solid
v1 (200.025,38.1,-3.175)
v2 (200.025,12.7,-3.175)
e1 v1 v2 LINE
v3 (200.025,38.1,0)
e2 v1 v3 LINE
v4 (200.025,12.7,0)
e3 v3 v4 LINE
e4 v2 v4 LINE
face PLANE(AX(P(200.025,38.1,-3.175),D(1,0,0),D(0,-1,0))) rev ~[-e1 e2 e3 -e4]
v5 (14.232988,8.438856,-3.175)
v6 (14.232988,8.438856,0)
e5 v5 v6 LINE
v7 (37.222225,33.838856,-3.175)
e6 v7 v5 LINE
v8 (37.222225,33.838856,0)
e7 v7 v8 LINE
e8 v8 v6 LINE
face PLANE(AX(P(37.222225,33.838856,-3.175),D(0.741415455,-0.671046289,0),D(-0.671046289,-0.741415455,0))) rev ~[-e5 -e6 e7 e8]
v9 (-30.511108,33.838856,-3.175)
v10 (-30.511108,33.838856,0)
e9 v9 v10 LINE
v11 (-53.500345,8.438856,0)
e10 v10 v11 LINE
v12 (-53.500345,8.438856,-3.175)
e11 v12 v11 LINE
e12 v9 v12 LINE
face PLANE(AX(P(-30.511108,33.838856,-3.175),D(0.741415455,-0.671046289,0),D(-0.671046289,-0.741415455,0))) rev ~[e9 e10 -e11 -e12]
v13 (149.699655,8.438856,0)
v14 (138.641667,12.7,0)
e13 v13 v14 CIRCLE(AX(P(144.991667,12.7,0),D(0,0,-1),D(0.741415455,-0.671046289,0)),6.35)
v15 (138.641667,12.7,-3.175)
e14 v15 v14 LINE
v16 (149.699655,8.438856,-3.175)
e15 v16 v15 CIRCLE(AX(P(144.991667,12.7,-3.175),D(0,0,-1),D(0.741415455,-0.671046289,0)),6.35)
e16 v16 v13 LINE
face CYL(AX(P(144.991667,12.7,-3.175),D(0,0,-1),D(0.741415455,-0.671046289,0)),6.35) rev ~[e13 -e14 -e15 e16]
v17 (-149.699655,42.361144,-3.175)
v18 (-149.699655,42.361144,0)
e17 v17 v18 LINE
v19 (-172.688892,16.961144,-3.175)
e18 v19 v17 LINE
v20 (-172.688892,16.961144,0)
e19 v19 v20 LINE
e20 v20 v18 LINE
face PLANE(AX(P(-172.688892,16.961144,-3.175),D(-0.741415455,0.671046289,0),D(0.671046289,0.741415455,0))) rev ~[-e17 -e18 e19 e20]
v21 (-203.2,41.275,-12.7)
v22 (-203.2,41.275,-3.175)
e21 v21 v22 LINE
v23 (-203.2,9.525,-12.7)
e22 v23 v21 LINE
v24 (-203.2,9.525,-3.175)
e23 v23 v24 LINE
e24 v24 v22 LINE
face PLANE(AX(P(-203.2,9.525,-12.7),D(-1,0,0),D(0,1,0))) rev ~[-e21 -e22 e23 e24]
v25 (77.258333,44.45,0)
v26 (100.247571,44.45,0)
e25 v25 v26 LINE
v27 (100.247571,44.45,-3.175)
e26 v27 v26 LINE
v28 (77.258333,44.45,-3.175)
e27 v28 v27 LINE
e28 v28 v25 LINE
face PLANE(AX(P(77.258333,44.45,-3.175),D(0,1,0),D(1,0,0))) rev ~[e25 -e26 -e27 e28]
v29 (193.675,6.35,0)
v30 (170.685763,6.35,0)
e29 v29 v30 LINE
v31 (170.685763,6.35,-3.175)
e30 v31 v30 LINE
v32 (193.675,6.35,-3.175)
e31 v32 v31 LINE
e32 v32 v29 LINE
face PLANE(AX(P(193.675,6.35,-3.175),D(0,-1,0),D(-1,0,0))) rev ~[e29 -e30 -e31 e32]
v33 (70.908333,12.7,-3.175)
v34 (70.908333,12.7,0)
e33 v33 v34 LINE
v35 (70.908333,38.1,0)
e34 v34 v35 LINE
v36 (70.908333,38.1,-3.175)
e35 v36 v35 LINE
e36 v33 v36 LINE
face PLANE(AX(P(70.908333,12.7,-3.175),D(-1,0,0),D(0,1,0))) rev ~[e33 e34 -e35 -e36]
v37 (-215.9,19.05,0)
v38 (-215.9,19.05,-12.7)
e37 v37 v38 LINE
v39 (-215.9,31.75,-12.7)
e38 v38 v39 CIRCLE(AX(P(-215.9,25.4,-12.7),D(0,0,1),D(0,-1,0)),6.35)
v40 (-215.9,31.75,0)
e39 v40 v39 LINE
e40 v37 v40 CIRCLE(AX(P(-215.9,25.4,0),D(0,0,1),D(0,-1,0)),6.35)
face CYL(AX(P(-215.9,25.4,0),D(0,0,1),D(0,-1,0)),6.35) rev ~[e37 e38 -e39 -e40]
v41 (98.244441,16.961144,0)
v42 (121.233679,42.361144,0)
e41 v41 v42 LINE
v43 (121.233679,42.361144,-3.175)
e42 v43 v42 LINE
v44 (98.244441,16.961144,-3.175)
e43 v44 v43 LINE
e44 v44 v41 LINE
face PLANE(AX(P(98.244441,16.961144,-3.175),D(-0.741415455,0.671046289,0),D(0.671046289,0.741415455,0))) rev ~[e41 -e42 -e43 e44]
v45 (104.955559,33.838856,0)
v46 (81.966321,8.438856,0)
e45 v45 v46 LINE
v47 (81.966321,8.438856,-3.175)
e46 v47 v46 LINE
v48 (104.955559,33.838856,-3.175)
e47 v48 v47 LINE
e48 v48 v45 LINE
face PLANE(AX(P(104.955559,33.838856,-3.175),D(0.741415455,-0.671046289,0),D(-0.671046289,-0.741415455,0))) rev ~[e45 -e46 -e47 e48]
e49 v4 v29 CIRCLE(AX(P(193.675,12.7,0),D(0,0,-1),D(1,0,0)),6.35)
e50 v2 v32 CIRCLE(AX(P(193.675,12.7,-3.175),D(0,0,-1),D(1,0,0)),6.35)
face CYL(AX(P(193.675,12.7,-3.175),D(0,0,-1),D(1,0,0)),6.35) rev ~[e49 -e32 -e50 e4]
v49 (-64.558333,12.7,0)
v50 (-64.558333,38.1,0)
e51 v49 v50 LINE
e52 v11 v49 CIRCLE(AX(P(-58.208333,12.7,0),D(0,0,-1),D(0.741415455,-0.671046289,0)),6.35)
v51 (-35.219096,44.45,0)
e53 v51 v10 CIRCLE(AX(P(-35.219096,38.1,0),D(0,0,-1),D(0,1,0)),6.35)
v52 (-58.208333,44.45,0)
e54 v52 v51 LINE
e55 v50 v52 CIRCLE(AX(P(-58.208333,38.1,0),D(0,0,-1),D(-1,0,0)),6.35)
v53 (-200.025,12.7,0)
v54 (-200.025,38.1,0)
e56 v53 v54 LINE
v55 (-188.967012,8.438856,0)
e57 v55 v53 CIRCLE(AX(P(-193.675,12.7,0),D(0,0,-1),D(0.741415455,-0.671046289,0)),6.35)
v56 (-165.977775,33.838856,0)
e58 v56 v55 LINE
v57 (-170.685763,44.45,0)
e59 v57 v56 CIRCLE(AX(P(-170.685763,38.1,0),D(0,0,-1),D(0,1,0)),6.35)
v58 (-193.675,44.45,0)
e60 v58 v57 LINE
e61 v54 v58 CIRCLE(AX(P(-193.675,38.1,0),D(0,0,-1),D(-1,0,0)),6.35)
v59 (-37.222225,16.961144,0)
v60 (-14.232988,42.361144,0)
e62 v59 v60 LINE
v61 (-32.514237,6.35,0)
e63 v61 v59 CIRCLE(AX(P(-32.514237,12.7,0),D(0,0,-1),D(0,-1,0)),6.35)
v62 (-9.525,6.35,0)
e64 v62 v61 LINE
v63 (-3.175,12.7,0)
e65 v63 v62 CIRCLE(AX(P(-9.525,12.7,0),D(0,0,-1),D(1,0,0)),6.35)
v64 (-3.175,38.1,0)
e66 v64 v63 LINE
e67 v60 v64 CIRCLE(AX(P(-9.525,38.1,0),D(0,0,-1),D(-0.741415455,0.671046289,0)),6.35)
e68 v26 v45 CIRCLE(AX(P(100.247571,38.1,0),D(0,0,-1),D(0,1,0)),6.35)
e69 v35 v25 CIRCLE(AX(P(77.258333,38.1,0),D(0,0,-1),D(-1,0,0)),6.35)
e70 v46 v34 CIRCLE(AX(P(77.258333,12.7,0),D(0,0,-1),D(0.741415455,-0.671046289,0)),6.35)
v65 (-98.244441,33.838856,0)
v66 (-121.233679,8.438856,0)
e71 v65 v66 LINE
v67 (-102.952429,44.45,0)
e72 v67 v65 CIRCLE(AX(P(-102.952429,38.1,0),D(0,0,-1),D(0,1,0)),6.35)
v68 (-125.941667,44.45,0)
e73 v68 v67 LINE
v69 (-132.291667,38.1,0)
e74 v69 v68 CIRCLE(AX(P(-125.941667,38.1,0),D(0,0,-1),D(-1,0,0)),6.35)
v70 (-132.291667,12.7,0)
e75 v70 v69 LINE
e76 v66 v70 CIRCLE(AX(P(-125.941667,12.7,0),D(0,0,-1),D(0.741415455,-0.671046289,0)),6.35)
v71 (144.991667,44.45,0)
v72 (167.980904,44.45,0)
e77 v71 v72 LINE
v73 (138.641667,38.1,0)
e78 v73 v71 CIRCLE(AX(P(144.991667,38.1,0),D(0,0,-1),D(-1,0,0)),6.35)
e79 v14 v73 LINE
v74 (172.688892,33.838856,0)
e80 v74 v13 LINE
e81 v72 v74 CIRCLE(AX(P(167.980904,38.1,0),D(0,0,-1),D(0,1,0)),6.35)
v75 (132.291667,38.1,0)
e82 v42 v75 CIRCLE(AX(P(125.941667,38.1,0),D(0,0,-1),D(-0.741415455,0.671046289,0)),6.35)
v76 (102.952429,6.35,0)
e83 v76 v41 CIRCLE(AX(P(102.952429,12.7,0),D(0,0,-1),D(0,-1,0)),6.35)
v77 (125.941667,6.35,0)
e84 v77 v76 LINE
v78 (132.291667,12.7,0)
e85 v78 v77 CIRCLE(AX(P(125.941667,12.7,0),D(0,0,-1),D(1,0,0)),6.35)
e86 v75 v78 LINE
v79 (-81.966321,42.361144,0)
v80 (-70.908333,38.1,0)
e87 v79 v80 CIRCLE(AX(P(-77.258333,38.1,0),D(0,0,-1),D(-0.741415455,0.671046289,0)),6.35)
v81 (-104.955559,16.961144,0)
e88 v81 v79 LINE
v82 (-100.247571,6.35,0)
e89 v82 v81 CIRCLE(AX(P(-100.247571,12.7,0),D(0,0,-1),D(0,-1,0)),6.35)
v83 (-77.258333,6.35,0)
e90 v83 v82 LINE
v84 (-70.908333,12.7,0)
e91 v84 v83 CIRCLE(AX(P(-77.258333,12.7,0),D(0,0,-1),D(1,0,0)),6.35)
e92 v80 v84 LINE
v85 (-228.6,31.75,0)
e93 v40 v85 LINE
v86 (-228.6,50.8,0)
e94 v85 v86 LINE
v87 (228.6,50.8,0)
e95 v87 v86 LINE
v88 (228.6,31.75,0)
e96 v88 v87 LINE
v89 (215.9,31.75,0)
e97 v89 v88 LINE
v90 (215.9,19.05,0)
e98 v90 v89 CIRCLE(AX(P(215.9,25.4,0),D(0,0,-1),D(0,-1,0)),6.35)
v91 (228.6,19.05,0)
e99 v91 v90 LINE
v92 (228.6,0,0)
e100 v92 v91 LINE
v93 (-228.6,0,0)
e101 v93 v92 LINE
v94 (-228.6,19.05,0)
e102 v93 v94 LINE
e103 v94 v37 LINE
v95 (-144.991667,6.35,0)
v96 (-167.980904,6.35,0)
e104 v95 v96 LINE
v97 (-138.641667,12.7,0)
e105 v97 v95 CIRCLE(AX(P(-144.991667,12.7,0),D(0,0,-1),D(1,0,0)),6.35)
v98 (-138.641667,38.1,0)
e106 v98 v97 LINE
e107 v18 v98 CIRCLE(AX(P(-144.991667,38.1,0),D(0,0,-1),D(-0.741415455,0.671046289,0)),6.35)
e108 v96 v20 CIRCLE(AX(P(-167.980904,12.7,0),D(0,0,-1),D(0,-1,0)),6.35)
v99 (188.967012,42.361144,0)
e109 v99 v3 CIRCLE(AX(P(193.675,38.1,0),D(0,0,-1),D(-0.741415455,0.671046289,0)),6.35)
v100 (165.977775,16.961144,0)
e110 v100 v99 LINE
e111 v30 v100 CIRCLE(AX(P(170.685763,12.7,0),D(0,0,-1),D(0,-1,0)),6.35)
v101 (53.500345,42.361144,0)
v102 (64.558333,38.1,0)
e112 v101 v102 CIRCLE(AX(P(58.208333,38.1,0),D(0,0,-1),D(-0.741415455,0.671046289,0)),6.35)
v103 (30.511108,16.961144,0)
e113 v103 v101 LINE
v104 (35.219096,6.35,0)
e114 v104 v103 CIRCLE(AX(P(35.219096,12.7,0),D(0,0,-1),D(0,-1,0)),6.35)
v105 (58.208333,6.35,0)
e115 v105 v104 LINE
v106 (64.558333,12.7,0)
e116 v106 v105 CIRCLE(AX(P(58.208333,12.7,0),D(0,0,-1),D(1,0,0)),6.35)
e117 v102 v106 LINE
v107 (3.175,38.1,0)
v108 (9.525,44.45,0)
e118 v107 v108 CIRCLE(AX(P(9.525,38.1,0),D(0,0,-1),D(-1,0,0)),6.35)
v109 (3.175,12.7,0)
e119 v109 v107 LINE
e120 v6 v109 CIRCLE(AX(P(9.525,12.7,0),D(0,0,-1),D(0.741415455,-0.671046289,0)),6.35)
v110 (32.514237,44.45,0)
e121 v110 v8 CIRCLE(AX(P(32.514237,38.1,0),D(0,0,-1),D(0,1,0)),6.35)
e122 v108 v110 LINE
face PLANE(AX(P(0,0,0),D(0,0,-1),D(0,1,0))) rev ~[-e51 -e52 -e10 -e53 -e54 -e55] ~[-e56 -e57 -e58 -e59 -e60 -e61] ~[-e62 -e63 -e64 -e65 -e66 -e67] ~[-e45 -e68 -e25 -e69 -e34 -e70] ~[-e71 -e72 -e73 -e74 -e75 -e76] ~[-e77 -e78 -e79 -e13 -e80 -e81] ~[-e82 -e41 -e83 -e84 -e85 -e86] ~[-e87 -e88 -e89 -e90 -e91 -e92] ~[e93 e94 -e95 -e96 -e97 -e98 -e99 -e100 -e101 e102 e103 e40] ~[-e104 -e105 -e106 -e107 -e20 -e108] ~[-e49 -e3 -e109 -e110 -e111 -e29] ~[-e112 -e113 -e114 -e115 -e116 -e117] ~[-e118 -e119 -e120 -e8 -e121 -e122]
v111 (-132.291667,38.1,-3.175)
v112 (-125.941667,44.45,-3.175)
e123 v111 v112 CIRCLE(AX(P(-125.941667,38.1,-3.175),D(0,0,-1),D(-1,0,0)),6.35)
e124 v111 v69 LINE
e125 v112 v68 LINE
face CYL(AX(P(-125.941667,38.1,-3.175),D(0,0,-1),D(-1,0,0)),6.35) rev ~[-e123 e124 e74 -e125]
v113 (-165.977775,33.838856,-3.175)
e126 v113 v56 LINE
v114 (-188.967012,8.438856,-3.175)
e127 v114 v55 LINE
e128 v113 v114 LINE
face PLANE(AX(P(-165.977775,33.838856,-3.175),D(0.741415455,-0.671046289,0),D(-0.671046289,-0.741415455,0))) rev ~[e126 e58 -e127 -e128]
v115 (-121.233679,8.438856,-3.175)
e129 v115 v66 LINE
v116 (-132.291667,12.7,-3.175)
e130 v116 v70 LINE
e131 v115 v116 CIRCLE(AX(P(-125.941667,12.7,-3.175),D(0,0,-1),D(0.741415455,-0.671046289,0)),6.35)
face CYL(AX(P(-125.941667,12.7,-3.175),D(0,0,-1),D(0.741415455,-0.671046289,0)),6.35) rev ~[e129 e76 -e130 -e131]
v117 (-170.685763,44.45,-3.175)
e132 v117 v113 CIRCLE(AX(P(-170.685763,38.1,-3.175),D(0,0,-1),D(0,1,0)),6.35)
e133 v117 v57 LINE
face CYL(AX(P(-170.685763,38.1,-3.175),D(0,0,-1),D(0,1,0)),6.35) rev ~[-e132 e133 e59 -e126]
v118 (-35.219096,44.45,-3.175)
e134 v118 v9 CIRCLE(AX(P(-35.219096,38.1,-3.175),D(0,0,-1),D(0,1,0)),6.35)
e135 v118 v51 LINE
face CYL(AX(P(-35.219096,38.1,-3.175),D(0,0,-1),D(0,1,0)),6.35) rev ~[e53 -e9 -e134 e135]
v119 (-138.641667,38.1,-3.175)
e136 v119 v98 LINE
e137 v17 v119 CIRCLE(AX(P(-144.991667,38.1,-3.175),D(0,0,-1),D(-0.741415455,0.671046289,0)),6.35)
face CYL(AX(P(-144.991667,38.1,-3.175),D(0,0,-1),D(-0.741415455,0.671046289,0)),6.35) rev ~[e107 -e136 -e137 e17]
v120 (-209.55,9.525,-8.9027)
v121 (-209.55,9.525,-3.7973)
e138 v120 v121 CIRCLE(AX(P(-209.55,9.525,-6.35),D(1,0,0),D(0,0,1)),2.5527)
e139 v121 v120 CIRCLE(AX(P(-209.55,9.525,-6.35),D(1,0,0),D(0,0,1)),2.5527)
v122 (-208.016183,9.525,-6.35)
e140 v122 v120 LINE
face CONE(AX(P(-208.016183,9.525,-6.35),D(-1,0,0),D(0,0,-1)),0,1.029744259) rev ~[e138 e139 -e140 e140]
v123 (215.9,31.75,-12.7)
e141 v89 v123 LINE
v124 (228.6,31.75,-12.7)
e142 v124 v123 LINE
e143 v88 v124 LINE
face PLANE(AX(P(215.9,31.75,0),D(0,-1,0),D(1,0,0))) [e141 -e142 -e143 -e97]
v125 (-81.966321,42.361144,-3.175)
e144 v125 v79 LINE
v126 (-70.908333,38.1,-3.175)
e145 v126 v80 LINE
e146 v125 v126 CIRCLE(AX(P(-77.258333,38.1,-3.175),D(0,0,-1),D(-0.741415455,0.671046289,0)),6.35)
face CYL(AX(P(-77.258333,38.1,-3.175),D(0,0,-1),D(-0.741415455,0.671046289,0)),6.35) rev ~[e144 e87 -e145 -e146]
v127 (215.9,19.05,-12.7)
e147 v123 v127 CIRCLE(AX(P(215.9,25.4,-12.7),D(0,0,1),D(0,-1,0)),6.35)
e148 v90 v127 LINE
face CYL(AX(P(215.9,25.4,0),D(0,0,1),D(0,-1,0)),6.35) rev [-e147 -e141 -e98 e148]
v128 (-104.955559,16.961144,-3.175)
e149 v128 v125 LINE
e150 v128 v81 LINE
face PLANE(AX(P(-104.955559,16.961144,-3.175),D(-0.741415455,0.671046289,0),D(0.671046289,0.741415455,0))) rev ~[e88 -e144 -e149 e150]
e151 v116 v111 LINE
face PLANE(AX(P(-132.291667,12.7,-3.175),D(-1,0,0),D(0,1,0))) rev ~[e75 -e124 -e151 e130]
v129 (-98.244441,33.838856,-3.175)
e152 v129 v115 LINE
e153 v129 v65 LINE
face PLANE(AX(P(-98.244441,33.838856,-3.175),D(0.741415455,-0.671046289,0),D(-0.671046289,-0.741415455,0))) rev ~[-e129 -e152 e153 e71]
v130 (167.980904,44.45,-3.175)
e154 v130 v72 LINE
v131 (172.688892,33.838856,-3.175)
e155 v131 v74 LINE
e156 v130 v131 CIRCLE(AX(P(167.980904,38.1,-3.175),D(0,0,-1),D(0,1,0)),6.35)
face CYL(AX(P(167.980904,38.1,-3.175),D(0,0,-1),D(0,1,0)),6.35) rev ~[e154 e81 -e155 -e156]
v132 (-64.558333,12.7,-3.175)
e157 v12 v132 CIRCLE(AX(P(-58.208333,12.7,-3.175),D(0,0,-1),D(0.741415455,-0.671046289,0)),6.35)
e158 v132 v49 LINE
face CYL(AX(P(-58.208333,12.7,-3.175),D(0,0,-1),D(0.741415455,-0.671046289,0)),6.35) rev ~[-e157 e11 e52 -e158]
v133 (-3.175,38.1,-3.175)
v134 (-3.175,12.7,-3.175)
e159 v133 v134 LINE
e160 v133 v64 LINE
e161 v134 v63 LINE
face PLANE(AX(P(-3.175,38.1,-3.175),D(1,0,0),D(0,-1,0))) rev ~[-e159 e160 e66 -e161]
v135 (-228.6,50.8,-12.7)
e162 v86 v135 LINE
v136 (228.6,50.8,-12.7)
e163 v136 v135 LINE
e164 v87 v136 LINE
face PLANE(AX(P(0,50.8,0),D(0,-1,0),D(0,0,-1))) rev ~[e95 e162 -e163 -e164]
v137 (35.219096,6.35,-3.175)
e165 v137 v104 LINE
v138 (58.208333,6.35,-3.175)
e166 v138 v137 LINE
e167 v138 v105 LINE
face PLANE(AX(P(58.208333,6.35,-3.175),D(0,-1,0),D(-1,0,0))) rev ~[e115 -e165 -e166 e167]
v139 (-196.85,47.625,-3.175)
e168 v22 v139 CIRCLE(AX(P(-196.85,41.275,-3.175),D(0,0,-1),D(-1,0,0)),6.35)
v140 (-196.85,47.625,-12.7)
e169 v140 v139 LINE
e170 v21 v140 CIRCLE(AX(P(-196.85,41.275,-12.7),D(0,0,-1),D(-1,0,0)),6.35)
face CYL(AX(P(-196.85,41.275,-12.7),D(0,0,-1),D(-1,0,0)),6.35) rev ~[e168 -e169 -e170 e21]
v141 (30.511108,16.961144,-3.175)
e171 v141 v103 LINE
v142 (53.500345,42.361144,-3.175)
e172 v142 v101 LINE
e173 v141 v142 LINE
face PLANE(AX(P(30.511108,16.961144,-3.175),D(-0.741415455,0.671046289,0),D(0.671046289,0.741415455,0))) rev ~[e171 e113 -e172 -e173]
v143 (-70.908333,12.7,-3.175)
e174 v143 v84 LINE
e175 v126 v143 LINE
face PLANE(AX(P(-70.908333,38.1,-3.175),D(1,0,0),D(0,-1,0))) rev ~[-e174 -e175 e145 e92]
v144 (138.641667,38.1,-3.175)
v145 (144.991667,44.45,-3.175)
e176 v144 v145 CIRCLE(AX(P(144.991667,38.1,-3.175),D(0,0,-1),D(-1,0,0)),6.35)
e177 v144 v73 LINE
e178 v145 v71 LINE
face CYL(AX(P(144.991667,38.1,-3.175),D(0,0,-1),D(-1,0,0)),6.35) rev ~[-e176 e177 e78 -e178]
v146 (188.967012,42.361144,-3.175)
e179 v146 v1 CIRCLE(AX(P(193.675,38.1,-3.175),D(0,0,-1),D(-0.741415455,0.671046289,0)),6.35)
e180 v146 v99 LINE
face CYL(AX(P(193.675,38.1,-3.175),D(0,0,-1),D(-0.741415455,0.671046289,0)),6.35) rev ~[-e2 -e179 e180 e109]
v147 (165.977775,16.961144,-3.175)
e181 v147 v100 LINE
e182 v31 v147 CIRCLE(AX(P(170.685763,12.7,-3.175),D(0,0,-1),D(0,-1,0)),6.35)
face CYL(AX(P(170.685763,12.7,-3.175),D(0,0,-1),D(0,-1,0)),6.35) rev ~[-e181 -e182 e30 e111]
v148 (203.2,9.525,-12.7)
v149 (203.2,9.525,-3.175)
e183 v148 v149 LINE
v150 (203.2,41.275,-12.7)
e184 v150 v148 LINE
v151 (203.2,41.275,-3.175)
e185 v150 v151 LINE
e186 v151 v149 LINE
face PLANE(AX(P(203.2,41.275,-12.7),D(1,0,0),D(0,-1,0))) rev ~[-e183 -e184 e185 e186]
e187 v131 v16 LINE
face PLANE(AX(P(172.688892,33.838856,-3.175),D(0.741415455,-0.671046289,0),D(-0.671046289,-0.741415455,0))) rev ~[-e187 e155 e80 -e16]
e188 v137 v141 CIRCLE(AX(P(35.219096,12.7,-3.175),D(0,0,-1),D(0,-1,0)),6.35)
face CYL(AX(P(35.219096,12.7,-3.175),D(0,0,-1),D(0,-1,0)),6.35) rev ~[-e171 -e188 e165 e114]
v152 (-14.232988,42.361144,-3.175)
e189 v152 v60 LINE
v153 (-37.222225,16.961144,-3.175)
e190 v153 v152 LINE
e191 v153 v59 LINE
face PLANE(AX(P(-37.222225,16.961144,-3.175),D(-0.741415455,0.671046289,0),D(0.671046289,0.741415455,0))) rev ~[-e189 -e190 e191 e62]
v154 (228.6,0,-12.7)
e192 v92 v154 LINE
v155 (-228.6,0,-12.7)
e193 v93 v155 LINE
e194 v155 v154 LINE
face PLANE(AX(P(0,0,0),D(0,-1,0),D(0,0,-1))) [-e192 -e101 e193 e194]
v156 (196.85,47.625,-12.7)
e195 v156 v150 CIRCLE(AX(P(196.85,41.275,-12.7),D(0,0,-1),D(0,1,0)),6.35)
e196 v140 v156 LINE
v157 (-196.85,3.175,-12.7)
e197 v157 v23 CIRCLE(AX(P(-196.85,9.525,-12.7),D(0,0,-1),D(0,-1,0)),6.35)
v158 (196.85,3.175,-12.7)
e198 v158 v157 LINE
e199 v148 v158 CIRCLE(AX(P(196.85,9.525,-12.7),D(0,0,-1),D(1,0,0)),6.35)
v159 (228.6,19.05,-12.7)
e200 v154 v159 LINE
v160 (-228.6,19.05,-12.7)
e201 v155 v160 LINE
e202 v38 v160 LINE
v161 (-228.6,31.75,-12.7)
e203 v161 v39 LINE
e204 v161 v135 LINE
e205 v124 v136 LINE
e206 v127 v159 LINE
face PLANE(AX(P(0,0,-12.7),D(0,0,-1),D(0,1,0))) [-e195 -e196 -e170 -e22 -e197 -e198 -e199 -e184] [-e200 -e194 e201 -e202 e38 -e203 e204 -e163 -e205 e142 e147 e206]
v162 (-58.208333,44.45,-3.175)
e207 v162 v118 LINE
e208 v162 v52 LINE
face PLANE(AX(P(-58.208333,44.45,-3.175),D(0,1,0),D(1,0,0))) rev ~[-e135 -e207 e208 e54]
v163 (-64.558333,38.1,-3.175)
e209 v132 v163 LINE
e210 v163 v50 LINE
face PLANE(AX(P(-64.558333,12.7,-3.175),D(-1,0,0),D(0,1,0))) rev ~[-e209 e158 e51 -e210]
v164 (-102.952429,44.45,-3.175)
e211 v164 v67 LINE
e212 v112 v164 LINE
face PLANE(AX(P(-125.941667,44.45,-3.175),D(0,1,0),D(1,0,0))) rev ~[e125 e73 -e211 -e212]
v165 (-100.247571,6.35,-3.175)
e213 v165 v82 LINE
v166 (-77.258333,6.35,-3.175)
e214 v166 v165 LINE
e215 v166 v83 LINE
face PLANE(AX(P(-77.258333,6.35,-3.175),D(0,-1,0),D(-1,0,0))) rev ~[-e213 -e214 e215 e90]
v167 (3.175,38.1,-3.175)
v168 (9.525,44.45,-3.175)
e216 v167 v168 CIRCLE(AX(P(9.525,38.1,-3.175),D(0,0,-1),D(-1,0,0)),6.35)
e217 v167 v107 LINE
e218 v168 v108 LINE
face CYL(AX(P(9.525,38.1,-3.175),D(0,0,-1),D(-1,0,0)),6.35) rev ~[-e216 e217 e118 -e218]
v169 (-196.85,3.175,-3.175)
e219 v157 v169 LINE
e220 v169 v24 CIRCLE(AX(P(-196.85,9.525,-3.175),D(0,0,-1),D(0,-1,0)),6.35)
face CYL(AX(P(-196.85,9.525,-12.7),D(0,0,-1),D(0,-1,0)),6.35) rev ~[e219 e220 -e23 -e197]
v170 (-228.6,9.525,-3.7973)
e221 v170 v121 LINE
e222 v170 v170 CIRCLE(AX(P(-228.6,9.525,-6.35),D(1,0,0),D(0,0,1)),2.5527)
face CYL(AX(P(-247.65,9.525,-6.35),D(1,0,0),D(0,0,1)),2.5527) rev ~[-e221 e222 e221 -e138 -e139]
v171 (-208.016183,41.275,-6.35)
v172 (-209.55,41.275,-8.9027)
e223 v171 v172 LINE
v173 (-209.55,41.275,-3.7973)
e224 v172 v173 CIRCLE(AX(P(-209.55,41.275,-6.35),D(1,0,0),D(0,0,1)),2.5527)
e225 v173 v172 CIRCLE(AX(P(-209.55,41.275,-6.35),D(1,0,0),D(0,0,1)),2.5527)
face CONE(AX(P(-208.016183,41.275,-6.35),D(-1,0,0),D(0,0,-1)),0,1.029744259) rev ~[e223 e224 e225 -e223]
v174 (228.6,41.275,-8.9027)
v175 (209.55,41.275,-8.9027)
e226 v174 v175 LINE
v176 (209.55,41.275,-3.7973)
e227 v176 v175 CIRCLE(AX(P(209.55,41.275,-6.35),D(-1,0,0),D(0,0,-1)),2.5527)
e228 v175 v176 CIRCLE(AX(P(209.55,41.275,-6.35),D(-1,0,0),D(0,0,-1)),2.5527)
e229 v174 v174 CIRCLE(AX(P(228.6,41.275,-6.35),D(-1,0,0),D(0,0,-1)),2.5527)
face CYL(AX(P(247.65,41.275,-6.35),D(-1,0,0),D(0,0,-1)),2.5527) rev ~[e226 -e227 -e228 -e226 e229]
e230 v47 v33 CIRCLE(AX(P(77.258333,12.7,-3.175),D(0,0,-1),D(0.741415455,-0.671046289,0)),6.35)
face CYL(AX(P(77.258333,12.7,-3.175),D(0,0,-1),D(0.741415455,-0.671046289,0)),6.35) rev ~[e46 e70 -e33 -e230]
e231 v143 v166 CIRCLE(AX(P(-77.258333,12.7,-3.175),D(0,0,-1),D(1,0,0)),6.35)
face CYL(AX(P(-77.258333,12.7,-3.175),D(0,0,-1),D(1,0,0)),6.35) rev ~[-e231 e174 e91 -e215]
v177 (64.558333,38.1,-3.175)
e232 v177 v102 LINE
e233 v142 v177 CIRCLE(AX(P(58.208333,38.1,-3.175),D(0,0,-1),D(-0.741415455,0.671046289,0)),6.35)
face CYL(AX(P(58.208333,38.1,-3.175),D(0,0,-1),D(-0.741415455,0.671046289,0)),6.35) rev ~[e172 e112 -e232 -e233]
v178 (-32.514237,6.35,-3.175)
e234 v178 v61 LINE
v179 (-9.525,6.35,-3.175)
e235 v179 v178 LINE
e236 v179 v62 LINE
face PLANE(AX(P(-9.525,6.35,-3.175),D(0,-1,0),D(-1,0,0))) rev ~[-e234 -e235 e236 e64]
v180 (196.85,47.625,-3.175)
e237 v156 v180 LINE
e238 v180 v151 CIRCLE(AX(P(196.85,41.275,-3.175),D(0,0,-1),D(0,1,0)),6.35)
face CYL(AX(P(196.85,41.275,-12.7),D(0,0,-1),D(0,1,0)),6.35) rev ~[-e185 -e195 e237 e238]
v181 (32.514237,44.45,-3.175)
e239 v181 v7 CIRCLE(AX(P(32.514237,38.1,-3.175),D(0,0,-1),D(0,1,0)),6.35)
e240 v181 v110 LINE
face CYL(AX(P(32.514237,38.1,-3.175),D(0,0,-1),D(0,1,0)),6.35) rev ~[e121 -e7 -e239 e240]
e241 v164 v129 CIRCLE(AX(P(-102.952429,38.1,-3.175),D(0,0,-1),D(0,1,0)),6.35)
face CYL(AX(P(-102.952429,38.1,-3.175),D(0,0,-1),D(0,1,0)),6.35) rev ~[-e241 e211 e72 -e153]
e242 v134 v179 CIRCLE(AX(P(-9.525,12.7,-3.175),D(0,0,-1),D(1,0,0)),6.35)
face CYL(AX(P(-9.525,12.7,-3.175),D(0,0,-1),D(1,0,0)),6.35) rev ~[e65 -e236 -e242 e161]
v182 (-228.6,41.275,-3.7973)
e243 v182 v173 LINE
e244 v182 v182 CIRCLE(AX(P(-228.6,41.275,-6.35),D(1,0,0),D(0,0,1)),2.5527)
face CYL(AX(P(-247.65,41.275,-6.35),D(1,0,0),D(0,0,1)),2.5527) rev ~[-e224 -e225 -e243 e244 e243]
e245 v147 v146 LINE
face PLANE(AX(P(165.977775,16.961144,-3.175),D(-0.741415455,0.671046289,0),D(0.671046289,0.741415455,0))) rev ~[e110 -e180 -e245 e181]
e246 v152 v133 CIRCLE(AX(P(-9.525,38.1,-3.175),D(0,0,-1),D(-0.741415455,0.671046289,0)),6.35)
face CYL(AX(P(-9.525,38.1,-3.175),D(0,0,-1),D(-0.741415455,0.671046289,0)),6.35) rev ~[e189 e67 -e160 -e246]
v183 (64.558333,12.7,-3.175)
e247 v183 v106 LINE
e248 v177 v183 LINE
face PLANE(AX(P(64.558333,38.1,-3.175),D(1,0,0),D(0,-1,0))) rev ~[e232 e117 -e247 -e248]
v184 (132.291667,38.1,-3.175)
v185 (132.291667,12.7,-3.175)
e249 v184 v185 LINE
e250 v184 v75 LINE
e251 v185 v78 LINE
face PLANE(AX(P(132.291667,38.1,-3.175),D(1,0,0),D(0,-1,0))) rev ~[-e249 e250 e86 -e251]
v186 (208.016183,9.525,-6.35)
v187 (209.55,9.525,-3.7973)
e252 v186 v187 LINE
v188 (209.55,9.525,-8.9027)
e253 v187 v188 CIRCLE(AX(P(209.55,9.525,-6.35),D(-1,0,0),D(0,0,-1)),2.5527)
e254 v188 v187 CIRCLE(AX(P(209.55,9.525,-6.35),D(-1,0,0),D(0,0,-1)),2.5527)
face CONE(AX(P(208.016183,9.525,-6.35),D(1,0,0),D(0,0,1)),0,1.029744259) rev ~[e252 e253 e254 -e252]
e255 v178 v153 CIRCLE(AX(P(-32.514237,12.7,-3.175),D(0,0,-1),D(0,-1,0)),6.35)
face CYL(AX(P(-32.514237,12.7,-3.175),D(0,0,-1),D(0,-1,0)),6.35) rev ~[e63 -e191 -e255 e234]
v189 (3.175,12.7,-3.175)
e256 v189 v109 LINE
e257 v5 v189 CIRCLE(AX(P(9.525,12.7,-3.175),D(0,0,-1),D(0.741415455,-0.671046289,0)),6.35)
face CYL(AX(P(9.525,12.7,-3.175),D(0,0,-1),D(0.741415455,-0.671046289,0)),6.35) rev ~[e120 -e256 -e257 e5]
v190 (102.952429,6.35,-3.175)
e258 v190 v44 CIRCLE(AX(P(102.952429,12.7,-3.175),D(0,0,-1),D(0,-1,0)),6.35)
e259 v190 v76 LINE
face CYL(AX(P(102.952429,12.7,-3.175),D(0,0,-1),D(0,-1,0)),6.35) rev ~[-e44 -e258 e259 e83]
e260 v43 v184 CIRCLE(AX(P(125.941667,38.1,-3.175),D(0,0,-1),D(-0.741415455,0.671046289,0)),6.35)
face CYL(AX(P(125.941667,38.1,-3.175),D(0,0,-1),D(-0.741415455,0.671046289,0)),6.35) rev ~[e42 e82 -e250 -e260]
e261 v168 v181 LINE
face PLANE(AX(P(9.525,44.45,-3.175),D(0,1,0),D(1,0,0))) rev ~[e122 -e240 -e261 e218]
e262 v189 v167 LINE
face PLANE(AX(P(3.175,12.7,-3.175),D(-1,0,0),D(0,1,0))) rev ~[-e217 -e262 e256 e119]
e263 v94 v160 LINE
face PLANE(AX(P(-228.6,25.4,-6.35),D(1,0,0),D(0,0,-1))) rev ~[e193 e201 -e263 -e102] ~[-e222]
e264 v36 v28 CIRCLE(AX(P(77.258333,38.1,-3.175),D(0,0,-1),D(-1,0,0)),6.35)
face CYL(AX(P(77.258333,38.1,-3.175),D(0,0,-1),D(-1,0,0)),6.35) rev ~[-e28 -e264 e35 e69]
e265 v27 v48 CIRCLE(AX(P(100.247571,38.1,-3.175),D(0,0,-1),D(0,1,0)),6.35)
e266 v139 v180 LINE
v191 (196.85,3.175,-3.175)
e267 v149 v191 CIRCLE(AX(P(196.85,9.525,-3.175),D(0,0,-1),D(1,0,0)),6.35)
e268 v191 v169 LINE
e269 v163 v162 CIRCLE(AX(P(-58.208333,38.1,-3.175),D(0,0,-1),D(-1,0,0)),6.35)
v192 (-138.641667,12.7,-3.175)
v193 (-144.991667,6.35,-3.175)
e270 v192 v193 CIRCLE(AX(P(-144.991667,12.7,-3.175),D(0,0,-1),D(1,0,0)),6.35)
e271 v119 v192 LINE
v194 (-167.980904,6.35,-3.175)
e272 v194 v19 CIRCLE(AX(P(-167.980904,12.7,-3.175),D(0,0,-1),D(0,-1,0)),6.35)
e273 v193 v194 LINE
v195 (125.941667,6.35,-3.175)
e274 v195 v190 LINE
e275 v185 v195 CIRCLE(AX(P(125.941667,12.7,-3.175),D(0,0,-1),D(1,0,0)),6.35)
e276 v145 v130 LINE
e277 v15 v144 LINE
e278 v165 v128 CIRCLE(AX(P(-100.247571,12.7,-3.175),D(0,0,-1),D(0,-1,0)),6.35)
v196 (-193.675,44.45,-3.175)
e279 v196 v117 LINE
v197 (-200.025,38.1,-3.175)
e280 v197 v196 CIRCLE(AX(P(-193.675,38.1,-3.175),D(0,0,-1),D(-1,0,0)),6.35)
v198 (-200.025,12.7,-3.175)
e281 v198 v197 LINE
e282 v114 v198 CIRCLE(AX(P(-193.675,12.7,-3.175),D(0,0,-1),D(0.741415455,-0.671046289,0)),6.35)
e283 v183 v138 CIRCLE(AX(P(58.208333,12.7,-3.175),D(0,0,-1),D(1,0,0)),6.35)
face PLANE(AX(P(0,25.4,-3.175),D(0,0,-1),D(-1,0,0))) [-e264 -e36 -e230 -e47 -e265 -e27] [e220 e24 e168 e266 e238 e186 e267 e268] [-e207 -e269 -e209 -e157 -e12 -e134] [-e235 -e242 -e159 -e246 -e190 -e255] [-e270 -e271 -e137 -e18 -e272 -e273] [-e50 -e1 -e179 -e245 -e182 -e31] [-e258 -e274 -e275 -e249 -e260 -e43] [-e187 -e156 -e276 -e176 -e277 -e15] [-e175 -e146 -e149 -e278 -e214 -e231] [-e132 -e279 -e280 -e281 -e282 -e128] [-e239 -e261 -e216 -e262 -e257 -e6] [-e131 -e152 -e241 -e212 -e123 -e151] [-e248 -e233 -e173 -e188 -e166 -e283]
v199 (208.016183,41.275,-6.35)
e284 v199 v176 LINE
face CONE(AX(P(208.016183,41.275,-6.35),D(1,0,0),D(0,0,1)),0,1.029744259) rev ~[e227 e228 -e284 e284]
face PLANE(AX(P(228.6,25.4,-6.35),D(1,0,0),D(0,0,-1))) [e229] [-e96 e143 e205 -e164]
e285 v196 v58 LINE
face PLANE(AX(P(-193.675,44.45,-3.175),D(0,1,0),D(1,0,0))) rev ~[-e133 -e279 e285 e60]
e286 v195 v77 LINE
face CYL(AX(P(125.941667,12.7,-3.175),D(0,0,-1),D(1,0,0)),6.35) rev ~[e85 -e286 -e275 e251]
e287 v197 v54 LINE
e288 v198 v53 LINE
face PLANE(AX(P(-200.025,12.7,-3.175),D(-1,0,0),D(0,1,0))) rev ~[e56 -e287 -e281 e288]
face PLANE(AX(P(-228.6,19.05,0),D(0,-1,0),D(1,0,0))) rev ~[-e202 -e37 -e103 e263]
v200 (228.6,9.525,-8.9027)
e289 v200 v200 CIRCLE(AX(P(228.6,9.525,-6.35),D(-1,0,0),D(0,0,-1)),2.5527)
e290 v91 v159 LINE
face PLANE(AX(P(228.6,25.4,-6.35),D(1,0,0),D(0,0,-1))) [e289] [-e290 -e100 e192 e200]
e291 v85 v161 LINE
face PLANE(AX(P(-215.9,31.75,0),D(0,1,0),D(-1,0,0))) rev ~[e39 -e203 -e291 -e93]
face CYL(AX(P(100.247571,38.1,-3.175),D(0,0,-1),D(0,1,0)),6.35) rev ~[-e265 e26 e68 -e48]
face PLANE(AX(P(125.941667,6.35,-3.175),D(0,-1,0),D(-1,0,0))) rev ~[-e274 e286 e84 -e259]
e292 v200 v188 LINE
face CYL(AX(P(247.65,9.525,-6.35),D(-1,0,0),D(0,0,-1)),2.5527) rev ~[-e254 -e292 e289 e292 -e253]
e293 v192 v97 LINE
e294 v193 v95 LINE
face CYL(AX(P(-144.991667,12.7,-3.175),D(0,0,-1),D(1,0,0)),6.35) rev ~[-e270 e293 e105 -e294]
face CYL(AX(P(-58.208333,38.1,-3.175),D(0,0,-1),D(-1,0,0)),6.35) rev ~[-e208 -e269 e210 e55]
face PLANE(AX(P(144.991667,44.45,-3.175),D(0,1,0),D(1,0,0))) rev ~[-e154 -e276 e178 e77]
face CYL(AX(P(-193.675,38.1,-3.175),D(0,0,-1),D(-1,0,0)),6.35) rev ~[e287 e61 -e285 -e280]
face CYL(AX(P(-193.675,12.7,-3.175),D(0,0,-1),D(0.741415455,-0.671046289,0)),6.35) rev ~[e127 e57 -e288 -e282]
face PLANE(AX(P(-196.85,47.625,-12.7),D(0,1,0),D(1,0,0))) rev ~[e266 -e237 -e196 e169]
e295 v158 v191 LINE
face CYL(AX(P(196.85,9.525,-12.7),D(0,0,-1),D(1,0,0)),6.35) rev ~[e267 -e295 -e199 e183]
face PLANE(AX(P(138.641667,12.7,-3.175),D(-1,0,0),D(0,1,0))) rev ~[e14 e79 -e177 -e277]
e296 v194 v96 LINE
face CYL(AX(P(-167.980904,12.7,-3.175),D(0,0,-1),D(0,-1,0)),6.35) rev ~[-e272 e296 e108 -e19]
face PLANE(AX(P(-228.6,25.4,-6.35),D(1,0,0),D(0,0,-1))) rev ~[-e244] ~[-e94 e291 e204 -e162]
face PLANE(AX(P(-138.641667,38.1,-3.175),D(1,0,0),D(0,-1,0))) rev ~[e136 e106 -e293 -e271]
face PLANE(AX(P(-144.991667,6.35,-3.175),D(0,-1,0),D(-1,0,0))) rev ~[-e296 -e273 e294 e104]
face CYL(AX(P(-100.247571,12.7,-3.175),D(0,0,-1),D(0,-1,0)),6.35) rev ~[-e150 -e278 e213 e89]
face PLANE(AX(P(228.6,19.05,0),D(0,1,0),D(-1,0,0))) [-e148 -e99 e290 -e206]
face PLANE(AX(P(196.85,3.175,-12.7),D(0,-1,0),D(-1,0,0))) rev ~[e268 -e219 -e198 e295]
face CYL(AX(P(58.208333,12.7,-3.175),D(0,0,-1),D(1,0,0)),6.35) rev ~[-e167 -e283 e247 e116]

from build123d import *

# Parameters (mm, degrees)
SKETCH1_W                             = 12.7
SKETCH1_H                             = 50.8
BOSS_EXTRUDE1_DEPTH                   = 228.6
F_1_4_20_TAPPED_HOLE1_D               = 5.1054
F_1_4_20_TAPPED_HOLE1_DEPTH           = 19.05
F_1_4_20_TAPPED_HOLE1_TIP             = 1.533816902
F_1_4_20_TAPPED_HOLE1_ON_FACE_2_D     = 5.1054
F_1_4_20_TAPPED_HOLE1_ON_FACE_2_DEPTH = 19.05
F_1_4_20_TAPPED_HOLE1_ON_FACE_2_TIP   = 1.533816902
CUT_EXTRUDE1_DEPTH                    = 9.525
CUT_EXTRUDE2_DEPTH                    = 235.370061281
CUT_EXTRUDE3_DEPTH                    = 235.52055347


with BuildPart() as part:
    # Sketch1 → Boss-Extrude1 (new, symmetric)
    with BuildSketch(Plane(origin=(0, 0, 0), x_dir=(0, 0, -1), z_dir=(1, 0, 0))):
        with Locations((6.35, 25.4)):
            Rectangle(SKETCH1_W, SKETCH1_H)
    extrude(amount=BOSS_EXTRUDE1_DEPTH, both=True)

    # 1/4-20 Tapped Hole1
    with Locations(Plane(origin=(228.6, 41.275, -6.35), x_dir=(0, 0, 1), z_dir=(1, 0, 0))):
        with Locations((0, 0), (0, 31.75)):
            Hole(F_1_4_20_TAPPED_HOLE1_D / 2, depth=F_1_4_20_TAPPED_HOLE1_DEPTH)
            with Locations((0, 0, -(F_1_4_20_TAPPED_HOLE1_DEPTH + F_1_4_20_TAPPED_HOLE1_TIP / 2))):  # 118° drill point
                Cone(0, F_1_4_20_TAPPED_HOLE1_D / 2, F_1_4_20_TAPPED_HOLE1_TIP, mode=Mode.SUBTRACT)

    # 1/4-20 Tapped Hole1 on face 2
    with Locations(Plane(origin=(-228.6, 9.525, -6.35), x_dir=(0, 0, -1), z_dir=(-1, 0, 0))):
        with Locations((0, 0), (0, -31.75)):
            Hole(F_1_4_20_TAPPED_HOLE1_ON_FACE_2_D / 2, depth=F_1_4_20_TAPPED_HOLE1_ON_FACE_2_DEPTH)
            with Locations((0, 0, -(F_1_4_20_TAPPED_HOLE1_ON_FACE_2_DEPTH + F_1_4_20_TAPPED_HOLE1_ON_FACE_2_TIP / 2))):  # 118° drill point
                Cone(0, F_1_4_20_TAPPED_HOLE1_ON_FACE_2_D / 2, F_1_4_20_TAPPED_HOLE1_ON_FACE_2_TIP, mode=Mode.SUBTRACT)

    # Sketch4 → Cut-Extrude1 (cut)
    with BuildSketch(Plane(origin=(0, 0, -12.7), x_dir=(-1, 0, 0), z_dir=(0, 0, -1))):
        with BuildLine():
            Line((196.85, 47.625), (-196.85, 47.625))
            ThreePointArc((-196.85, 47.625), (-201.340128061, 45.765128061), (-203.2, 41.275))
            Line((-203.2, 41.275), (-203.2, 9.525))
            ThreePointArc((-203.2, 9.525), (-201.340128061, 5.034871939), (-196.85, 3.175))
            Line((-196.85, 3.175), (196.85, 3.175))
            ThreePointArc((196.85, 3.175), (201.340128061, 5.034871939), (203.2, 9.525))
            Line((203.2, 9.525), (203.2, 41.275))
            ThreePointArc((203.2, 41.275), (201.340128061, 45.765128061), (196.85, 47.625))
        make_face()
    extrude(amount=-CUT_EXTRUDE1_DEPTH, mode=Mode.SUBTRACT)

    # Sketch5 → Cut-Extrude2 (cut, through all)
    with BuildSketch(Plane(origin=(0, 0, -3.175), x_dir=(-1, 0, 0), z_dir=(0, 0, -1))):
        with BuildLine():
            Line((-200.025, 38.1), (-200.025, 12.7))
            ThreePointArc((-200.025, 12.7), (-198.165128061, 8.209871939), (-193.675, 6.35))
            Line((-193.675, 6.35), (-170.685762821, 6.35))
            ThreePointArc((-170.685762821, 6.35), (-164.88142117, 10.124710114), (-165.977774679, 16.961143938))
            Line((-165.977774679, 16.961143938), (-188.967011858, 42.361143938))
            ThreePointArc((-188.967011858, 42.361143938), (-195.9582844, 44.025294284), (-200.025, 38.1))
        make_face()
        with BuildLine():
            Line((-172.688891987, 33.838856062), (-149.699654808, 8.438856062))
            ThreePointArc((-149.699654808, 8.438856062), (-142.708382267, 6.774705716), (-138.641666667, 12.7))
            Line((-138.641666667, 12.7), (-138.641666667, 38.1))
            ThreePointArc((-138.641666667, 38.1), (-140.501538606, 42.590128061), (-144.991666667, 44.45))
            Line((-144.991666667, 44.45), (-167.980903846, 44.45))
            ThreePointArc((-167.980903846, 44.45), (-173.785245497, 40.675289886), (-172.688891987, 33.838856062))
        make_face()
        with BuildLine():
            Line((-132.291666667, 38.1), (-132.291666667, 12.7))
            ThreePointArc((-132.291666667, 12.7), (-130.431794727, 8.209871939), (-125.941666667, 6.35))
            Line((-125.941666667, 6.35), (-102.952429487, 6.35))
            ThreePointArc((-102.952429487, 6.35), (-97.148087836, 10.124710114), (-98.244441346, 16.961143938))
            Line((-98.244441346, 16.961143938), (-121.233678525, 42.361143938))
            ThreePointArc((-121.233678525, 42.361143938), (-128.224951067, 44.025294284), (-132.291666667, 38.1))
        make_face()
        with BuildLine():
            Line((-104.955558654, 33.838856062), (-81.966321475, 8.438856062))
            ThreePointArc((-81.966321475, 8.438856062), (-74.975048933, 6.774705716), (-70.908333333, 12.7))
            Line((-70.908333333, 12.7), (-70.908333333, 38.1))
            ThreePointArc((-70.908333333, 38.1), (-72.768205273, 42.590128061), (-77.258333333, 44.45))
            Line((-77.258333333, 44.45), (-100.247570513, 44.45))
            ThreePointArc((-100.247570513, 44.45), (-106.051912164, 40.675289886), (-104.955558654, 33.838856062))
        make_face()
        with BuildLine():
            Line((-64.558333333, 38.1), (-64.558333333, 12.7))
            ThreePointArc((-64.558333333, 12.7), (-62.698461394, 8.209871939), (-58.208333333, 6.35))
            Line((-58.208333333, 6.35), (-35.219096154, 6.35))
            ThreePointArc((-35.219096154, 6.35), (-29.414754503, 10.124710114), (-30.511108013, 16.961143938))
            Line((-30.511108013, 16.961143938), (-53.500345192, 42.361143938))
            ThreePointArc((-53.500345192, 42.361143938), (-60.491617733, 44.025294284), (-64.558333333, 38.1))
        make_face()
        with BuildLine():
            Line((-37.222225321, 33.838856062), (-14.232988142, 8.438856062))
            ThreePointArc((-14.232988142, 8.438856062), (-7.2417156, 6.774705716), (-3.175, 12.7))
            Line((-3.175, 12.7), (-3.175, 38.1))
            ThreePointArc((-3.175, 38.1), (-5.034871939, 42.590128061), (-9.525, 44.45))
            Line((-9.525, 44.45), (-32.514237179, 44.45))
            ThreePointArc((-32.514237179, 44.45), (-38.31857883, 40.675289886), (-37.222225321, 33.838856062))
        make_face()
        with BuildLine():
            Line((3.175, 38.1), (3.175, 12.7))
            ThreePointArc((3.175, 12.7), (5.034871939, 8.209871939), (9.525, 6.35))
            Line((9.525, 6.35), (32.514237179, 6.35))
            ThreePointArc((32.514237179, 6.35), (38.31857883, 10.124710114), (37.222225321, 16.961143938))
            Line((37.222225321, 16.961143938), (14.232988142, 42.361143938))
            ThreePointArc((14.232988142, 42.361143938), (7.2417156, 44.025294284), (3.175, 38.1))
        make_face()
        with BuildLine():
            Line((30.511108013, 33.838856062), (53.500345192, 8.438856062))
            ThreePointArc((53.500345192, 8.438856062), (60.491617733, 6.774705716), (64.558333333, 12.7))
            Line((64.558333333, 12.7), (64.558333333, 38.1))
            ThreePointArc((64.558333333, 38.1), (62.698461394, 42.590128061), (58.208333333, 44.45))
            Line((58.208333333, 44.45), (35.219096154, 44.45))
            ThreePointArc((35.219096154, 44.45), (29.414754503, 40.675289886), (30.511108013, 33.838856062))
        make_face()
        with BuildLine():
            Line((70.908333333, 38.1), (70.908333333, 12.7))
            ThreePointArc((70.908333333, 12.7), (72.768205273, 8.209871939), (77.258333333, 6.35))
            Line((77.258333333, 6.35), (100.247570513, 6.35))
            ThreePointArc((100.247570513, 6.35), (106.051912164, 10.124710114), (104.955558654, 16.961143938))
            Line((104.955558654, 16.961143938), (81.966321475, 42.361143938))
            ThreePointArc((81.966321475, 42.361143938), (74.975048933, 44.025294284), (70.908333333, 38.1))
        make_face()
        with BuildLine():
            Line((98.244441346, 33.838856062), (121.233678525, 8.438856062))
            ThreePointArc((121.233678525, 8.438856062), (128.224951067, 6.774705716), (132.291666667, 12.7))
            Line((132.291666667, 12.7), (132.291666667, 38.1))
            ThreePointArc((132.291666667, 38.1), (130.431794727, 42.590128061), (125.941666667, 44.45))
            Line((125.941666667, 44.45), (102.952429487, 44.45))
            ThreePointArc((102.952429487, 44.45), (97.148087836, 40.675289886), (98.244441346, 33.838856062))
        make_face()
        with BuildLine():
            Line((138.641666667, 38.1), (138.641666667, 12.7))
            ThreePointArc((138.641666667, 12.7), (140.501538606, 8.209871939), (144.991666667, 6.35))
            Line((144.991666667, 6.35), (167.980903846, 6.35))
            ThreePointArc((167.980903846, 6.35), (173.785245497, 10.124710114), (172.688891987, 16.961143938))
            Line((172.688891987, 16.961143938), (149.699654808, 42.361143938))
            ThreePointArc((149.699654808, 42.361143938), (142.708382267, 44.025294284), (138.641666667, 38.1))
        make_face()
        with BuildLine():
            Line((165.977774679, 33.838856062), (188.967011858, 8.438856062))
            ThreePointArc((188.967011858, 8.438856062), (195.9582844, 6.774705716), (200.025, 12.7))
            Line((200.025, 12.7), (200.025, 38.1))
            ThreePointArc((200.025, 38.1), (198.165128061, 42.590128061), (193.675, 44.45))
            Line((193.675, 44.45), (170.685762821, 44.45))
            ThreePointArc((170.685762821, 44.45), (164.88142117, 40.675289886), (165.977774679, 33.838856062))
        make_face()
    extrude(amount=-CUT_EXTRUDE2_DEPTH, mode=Mode.SUBTRACT)

    # Sketch6 → Cut-Extrude3 (cut, through all)
    with BuildSketch(Plane.XY):
        with BuildLine():
            Line((-215.9, 31.75), (-228.6, 31.75))
            Line((-228.6, 31.75), (-228.6, 19.05))
            Line((-228.6, 19.05), (-215.9, 19.05))
            ThreePointArc((-215.9, 19.05), (-209.55, 25.4), (-215.9, 31.75))
        make_face()
        with BuildLine():
            Line((228.6, 19.05), (215.9, 19.05))
            ThreePointArc((215.9, 19.05), (209.55, 25.4), (215.9, 31.75))
            Line((215.9, 31.75), (228.6, 31.75))
            Line((228.6, 31.75), (228.6, 19.05))
        make_face()
    extrude(amount=-CUT_EXTRUDE3_DEPTH, mode=Mode.SUBTRACT)


solid = part.part
